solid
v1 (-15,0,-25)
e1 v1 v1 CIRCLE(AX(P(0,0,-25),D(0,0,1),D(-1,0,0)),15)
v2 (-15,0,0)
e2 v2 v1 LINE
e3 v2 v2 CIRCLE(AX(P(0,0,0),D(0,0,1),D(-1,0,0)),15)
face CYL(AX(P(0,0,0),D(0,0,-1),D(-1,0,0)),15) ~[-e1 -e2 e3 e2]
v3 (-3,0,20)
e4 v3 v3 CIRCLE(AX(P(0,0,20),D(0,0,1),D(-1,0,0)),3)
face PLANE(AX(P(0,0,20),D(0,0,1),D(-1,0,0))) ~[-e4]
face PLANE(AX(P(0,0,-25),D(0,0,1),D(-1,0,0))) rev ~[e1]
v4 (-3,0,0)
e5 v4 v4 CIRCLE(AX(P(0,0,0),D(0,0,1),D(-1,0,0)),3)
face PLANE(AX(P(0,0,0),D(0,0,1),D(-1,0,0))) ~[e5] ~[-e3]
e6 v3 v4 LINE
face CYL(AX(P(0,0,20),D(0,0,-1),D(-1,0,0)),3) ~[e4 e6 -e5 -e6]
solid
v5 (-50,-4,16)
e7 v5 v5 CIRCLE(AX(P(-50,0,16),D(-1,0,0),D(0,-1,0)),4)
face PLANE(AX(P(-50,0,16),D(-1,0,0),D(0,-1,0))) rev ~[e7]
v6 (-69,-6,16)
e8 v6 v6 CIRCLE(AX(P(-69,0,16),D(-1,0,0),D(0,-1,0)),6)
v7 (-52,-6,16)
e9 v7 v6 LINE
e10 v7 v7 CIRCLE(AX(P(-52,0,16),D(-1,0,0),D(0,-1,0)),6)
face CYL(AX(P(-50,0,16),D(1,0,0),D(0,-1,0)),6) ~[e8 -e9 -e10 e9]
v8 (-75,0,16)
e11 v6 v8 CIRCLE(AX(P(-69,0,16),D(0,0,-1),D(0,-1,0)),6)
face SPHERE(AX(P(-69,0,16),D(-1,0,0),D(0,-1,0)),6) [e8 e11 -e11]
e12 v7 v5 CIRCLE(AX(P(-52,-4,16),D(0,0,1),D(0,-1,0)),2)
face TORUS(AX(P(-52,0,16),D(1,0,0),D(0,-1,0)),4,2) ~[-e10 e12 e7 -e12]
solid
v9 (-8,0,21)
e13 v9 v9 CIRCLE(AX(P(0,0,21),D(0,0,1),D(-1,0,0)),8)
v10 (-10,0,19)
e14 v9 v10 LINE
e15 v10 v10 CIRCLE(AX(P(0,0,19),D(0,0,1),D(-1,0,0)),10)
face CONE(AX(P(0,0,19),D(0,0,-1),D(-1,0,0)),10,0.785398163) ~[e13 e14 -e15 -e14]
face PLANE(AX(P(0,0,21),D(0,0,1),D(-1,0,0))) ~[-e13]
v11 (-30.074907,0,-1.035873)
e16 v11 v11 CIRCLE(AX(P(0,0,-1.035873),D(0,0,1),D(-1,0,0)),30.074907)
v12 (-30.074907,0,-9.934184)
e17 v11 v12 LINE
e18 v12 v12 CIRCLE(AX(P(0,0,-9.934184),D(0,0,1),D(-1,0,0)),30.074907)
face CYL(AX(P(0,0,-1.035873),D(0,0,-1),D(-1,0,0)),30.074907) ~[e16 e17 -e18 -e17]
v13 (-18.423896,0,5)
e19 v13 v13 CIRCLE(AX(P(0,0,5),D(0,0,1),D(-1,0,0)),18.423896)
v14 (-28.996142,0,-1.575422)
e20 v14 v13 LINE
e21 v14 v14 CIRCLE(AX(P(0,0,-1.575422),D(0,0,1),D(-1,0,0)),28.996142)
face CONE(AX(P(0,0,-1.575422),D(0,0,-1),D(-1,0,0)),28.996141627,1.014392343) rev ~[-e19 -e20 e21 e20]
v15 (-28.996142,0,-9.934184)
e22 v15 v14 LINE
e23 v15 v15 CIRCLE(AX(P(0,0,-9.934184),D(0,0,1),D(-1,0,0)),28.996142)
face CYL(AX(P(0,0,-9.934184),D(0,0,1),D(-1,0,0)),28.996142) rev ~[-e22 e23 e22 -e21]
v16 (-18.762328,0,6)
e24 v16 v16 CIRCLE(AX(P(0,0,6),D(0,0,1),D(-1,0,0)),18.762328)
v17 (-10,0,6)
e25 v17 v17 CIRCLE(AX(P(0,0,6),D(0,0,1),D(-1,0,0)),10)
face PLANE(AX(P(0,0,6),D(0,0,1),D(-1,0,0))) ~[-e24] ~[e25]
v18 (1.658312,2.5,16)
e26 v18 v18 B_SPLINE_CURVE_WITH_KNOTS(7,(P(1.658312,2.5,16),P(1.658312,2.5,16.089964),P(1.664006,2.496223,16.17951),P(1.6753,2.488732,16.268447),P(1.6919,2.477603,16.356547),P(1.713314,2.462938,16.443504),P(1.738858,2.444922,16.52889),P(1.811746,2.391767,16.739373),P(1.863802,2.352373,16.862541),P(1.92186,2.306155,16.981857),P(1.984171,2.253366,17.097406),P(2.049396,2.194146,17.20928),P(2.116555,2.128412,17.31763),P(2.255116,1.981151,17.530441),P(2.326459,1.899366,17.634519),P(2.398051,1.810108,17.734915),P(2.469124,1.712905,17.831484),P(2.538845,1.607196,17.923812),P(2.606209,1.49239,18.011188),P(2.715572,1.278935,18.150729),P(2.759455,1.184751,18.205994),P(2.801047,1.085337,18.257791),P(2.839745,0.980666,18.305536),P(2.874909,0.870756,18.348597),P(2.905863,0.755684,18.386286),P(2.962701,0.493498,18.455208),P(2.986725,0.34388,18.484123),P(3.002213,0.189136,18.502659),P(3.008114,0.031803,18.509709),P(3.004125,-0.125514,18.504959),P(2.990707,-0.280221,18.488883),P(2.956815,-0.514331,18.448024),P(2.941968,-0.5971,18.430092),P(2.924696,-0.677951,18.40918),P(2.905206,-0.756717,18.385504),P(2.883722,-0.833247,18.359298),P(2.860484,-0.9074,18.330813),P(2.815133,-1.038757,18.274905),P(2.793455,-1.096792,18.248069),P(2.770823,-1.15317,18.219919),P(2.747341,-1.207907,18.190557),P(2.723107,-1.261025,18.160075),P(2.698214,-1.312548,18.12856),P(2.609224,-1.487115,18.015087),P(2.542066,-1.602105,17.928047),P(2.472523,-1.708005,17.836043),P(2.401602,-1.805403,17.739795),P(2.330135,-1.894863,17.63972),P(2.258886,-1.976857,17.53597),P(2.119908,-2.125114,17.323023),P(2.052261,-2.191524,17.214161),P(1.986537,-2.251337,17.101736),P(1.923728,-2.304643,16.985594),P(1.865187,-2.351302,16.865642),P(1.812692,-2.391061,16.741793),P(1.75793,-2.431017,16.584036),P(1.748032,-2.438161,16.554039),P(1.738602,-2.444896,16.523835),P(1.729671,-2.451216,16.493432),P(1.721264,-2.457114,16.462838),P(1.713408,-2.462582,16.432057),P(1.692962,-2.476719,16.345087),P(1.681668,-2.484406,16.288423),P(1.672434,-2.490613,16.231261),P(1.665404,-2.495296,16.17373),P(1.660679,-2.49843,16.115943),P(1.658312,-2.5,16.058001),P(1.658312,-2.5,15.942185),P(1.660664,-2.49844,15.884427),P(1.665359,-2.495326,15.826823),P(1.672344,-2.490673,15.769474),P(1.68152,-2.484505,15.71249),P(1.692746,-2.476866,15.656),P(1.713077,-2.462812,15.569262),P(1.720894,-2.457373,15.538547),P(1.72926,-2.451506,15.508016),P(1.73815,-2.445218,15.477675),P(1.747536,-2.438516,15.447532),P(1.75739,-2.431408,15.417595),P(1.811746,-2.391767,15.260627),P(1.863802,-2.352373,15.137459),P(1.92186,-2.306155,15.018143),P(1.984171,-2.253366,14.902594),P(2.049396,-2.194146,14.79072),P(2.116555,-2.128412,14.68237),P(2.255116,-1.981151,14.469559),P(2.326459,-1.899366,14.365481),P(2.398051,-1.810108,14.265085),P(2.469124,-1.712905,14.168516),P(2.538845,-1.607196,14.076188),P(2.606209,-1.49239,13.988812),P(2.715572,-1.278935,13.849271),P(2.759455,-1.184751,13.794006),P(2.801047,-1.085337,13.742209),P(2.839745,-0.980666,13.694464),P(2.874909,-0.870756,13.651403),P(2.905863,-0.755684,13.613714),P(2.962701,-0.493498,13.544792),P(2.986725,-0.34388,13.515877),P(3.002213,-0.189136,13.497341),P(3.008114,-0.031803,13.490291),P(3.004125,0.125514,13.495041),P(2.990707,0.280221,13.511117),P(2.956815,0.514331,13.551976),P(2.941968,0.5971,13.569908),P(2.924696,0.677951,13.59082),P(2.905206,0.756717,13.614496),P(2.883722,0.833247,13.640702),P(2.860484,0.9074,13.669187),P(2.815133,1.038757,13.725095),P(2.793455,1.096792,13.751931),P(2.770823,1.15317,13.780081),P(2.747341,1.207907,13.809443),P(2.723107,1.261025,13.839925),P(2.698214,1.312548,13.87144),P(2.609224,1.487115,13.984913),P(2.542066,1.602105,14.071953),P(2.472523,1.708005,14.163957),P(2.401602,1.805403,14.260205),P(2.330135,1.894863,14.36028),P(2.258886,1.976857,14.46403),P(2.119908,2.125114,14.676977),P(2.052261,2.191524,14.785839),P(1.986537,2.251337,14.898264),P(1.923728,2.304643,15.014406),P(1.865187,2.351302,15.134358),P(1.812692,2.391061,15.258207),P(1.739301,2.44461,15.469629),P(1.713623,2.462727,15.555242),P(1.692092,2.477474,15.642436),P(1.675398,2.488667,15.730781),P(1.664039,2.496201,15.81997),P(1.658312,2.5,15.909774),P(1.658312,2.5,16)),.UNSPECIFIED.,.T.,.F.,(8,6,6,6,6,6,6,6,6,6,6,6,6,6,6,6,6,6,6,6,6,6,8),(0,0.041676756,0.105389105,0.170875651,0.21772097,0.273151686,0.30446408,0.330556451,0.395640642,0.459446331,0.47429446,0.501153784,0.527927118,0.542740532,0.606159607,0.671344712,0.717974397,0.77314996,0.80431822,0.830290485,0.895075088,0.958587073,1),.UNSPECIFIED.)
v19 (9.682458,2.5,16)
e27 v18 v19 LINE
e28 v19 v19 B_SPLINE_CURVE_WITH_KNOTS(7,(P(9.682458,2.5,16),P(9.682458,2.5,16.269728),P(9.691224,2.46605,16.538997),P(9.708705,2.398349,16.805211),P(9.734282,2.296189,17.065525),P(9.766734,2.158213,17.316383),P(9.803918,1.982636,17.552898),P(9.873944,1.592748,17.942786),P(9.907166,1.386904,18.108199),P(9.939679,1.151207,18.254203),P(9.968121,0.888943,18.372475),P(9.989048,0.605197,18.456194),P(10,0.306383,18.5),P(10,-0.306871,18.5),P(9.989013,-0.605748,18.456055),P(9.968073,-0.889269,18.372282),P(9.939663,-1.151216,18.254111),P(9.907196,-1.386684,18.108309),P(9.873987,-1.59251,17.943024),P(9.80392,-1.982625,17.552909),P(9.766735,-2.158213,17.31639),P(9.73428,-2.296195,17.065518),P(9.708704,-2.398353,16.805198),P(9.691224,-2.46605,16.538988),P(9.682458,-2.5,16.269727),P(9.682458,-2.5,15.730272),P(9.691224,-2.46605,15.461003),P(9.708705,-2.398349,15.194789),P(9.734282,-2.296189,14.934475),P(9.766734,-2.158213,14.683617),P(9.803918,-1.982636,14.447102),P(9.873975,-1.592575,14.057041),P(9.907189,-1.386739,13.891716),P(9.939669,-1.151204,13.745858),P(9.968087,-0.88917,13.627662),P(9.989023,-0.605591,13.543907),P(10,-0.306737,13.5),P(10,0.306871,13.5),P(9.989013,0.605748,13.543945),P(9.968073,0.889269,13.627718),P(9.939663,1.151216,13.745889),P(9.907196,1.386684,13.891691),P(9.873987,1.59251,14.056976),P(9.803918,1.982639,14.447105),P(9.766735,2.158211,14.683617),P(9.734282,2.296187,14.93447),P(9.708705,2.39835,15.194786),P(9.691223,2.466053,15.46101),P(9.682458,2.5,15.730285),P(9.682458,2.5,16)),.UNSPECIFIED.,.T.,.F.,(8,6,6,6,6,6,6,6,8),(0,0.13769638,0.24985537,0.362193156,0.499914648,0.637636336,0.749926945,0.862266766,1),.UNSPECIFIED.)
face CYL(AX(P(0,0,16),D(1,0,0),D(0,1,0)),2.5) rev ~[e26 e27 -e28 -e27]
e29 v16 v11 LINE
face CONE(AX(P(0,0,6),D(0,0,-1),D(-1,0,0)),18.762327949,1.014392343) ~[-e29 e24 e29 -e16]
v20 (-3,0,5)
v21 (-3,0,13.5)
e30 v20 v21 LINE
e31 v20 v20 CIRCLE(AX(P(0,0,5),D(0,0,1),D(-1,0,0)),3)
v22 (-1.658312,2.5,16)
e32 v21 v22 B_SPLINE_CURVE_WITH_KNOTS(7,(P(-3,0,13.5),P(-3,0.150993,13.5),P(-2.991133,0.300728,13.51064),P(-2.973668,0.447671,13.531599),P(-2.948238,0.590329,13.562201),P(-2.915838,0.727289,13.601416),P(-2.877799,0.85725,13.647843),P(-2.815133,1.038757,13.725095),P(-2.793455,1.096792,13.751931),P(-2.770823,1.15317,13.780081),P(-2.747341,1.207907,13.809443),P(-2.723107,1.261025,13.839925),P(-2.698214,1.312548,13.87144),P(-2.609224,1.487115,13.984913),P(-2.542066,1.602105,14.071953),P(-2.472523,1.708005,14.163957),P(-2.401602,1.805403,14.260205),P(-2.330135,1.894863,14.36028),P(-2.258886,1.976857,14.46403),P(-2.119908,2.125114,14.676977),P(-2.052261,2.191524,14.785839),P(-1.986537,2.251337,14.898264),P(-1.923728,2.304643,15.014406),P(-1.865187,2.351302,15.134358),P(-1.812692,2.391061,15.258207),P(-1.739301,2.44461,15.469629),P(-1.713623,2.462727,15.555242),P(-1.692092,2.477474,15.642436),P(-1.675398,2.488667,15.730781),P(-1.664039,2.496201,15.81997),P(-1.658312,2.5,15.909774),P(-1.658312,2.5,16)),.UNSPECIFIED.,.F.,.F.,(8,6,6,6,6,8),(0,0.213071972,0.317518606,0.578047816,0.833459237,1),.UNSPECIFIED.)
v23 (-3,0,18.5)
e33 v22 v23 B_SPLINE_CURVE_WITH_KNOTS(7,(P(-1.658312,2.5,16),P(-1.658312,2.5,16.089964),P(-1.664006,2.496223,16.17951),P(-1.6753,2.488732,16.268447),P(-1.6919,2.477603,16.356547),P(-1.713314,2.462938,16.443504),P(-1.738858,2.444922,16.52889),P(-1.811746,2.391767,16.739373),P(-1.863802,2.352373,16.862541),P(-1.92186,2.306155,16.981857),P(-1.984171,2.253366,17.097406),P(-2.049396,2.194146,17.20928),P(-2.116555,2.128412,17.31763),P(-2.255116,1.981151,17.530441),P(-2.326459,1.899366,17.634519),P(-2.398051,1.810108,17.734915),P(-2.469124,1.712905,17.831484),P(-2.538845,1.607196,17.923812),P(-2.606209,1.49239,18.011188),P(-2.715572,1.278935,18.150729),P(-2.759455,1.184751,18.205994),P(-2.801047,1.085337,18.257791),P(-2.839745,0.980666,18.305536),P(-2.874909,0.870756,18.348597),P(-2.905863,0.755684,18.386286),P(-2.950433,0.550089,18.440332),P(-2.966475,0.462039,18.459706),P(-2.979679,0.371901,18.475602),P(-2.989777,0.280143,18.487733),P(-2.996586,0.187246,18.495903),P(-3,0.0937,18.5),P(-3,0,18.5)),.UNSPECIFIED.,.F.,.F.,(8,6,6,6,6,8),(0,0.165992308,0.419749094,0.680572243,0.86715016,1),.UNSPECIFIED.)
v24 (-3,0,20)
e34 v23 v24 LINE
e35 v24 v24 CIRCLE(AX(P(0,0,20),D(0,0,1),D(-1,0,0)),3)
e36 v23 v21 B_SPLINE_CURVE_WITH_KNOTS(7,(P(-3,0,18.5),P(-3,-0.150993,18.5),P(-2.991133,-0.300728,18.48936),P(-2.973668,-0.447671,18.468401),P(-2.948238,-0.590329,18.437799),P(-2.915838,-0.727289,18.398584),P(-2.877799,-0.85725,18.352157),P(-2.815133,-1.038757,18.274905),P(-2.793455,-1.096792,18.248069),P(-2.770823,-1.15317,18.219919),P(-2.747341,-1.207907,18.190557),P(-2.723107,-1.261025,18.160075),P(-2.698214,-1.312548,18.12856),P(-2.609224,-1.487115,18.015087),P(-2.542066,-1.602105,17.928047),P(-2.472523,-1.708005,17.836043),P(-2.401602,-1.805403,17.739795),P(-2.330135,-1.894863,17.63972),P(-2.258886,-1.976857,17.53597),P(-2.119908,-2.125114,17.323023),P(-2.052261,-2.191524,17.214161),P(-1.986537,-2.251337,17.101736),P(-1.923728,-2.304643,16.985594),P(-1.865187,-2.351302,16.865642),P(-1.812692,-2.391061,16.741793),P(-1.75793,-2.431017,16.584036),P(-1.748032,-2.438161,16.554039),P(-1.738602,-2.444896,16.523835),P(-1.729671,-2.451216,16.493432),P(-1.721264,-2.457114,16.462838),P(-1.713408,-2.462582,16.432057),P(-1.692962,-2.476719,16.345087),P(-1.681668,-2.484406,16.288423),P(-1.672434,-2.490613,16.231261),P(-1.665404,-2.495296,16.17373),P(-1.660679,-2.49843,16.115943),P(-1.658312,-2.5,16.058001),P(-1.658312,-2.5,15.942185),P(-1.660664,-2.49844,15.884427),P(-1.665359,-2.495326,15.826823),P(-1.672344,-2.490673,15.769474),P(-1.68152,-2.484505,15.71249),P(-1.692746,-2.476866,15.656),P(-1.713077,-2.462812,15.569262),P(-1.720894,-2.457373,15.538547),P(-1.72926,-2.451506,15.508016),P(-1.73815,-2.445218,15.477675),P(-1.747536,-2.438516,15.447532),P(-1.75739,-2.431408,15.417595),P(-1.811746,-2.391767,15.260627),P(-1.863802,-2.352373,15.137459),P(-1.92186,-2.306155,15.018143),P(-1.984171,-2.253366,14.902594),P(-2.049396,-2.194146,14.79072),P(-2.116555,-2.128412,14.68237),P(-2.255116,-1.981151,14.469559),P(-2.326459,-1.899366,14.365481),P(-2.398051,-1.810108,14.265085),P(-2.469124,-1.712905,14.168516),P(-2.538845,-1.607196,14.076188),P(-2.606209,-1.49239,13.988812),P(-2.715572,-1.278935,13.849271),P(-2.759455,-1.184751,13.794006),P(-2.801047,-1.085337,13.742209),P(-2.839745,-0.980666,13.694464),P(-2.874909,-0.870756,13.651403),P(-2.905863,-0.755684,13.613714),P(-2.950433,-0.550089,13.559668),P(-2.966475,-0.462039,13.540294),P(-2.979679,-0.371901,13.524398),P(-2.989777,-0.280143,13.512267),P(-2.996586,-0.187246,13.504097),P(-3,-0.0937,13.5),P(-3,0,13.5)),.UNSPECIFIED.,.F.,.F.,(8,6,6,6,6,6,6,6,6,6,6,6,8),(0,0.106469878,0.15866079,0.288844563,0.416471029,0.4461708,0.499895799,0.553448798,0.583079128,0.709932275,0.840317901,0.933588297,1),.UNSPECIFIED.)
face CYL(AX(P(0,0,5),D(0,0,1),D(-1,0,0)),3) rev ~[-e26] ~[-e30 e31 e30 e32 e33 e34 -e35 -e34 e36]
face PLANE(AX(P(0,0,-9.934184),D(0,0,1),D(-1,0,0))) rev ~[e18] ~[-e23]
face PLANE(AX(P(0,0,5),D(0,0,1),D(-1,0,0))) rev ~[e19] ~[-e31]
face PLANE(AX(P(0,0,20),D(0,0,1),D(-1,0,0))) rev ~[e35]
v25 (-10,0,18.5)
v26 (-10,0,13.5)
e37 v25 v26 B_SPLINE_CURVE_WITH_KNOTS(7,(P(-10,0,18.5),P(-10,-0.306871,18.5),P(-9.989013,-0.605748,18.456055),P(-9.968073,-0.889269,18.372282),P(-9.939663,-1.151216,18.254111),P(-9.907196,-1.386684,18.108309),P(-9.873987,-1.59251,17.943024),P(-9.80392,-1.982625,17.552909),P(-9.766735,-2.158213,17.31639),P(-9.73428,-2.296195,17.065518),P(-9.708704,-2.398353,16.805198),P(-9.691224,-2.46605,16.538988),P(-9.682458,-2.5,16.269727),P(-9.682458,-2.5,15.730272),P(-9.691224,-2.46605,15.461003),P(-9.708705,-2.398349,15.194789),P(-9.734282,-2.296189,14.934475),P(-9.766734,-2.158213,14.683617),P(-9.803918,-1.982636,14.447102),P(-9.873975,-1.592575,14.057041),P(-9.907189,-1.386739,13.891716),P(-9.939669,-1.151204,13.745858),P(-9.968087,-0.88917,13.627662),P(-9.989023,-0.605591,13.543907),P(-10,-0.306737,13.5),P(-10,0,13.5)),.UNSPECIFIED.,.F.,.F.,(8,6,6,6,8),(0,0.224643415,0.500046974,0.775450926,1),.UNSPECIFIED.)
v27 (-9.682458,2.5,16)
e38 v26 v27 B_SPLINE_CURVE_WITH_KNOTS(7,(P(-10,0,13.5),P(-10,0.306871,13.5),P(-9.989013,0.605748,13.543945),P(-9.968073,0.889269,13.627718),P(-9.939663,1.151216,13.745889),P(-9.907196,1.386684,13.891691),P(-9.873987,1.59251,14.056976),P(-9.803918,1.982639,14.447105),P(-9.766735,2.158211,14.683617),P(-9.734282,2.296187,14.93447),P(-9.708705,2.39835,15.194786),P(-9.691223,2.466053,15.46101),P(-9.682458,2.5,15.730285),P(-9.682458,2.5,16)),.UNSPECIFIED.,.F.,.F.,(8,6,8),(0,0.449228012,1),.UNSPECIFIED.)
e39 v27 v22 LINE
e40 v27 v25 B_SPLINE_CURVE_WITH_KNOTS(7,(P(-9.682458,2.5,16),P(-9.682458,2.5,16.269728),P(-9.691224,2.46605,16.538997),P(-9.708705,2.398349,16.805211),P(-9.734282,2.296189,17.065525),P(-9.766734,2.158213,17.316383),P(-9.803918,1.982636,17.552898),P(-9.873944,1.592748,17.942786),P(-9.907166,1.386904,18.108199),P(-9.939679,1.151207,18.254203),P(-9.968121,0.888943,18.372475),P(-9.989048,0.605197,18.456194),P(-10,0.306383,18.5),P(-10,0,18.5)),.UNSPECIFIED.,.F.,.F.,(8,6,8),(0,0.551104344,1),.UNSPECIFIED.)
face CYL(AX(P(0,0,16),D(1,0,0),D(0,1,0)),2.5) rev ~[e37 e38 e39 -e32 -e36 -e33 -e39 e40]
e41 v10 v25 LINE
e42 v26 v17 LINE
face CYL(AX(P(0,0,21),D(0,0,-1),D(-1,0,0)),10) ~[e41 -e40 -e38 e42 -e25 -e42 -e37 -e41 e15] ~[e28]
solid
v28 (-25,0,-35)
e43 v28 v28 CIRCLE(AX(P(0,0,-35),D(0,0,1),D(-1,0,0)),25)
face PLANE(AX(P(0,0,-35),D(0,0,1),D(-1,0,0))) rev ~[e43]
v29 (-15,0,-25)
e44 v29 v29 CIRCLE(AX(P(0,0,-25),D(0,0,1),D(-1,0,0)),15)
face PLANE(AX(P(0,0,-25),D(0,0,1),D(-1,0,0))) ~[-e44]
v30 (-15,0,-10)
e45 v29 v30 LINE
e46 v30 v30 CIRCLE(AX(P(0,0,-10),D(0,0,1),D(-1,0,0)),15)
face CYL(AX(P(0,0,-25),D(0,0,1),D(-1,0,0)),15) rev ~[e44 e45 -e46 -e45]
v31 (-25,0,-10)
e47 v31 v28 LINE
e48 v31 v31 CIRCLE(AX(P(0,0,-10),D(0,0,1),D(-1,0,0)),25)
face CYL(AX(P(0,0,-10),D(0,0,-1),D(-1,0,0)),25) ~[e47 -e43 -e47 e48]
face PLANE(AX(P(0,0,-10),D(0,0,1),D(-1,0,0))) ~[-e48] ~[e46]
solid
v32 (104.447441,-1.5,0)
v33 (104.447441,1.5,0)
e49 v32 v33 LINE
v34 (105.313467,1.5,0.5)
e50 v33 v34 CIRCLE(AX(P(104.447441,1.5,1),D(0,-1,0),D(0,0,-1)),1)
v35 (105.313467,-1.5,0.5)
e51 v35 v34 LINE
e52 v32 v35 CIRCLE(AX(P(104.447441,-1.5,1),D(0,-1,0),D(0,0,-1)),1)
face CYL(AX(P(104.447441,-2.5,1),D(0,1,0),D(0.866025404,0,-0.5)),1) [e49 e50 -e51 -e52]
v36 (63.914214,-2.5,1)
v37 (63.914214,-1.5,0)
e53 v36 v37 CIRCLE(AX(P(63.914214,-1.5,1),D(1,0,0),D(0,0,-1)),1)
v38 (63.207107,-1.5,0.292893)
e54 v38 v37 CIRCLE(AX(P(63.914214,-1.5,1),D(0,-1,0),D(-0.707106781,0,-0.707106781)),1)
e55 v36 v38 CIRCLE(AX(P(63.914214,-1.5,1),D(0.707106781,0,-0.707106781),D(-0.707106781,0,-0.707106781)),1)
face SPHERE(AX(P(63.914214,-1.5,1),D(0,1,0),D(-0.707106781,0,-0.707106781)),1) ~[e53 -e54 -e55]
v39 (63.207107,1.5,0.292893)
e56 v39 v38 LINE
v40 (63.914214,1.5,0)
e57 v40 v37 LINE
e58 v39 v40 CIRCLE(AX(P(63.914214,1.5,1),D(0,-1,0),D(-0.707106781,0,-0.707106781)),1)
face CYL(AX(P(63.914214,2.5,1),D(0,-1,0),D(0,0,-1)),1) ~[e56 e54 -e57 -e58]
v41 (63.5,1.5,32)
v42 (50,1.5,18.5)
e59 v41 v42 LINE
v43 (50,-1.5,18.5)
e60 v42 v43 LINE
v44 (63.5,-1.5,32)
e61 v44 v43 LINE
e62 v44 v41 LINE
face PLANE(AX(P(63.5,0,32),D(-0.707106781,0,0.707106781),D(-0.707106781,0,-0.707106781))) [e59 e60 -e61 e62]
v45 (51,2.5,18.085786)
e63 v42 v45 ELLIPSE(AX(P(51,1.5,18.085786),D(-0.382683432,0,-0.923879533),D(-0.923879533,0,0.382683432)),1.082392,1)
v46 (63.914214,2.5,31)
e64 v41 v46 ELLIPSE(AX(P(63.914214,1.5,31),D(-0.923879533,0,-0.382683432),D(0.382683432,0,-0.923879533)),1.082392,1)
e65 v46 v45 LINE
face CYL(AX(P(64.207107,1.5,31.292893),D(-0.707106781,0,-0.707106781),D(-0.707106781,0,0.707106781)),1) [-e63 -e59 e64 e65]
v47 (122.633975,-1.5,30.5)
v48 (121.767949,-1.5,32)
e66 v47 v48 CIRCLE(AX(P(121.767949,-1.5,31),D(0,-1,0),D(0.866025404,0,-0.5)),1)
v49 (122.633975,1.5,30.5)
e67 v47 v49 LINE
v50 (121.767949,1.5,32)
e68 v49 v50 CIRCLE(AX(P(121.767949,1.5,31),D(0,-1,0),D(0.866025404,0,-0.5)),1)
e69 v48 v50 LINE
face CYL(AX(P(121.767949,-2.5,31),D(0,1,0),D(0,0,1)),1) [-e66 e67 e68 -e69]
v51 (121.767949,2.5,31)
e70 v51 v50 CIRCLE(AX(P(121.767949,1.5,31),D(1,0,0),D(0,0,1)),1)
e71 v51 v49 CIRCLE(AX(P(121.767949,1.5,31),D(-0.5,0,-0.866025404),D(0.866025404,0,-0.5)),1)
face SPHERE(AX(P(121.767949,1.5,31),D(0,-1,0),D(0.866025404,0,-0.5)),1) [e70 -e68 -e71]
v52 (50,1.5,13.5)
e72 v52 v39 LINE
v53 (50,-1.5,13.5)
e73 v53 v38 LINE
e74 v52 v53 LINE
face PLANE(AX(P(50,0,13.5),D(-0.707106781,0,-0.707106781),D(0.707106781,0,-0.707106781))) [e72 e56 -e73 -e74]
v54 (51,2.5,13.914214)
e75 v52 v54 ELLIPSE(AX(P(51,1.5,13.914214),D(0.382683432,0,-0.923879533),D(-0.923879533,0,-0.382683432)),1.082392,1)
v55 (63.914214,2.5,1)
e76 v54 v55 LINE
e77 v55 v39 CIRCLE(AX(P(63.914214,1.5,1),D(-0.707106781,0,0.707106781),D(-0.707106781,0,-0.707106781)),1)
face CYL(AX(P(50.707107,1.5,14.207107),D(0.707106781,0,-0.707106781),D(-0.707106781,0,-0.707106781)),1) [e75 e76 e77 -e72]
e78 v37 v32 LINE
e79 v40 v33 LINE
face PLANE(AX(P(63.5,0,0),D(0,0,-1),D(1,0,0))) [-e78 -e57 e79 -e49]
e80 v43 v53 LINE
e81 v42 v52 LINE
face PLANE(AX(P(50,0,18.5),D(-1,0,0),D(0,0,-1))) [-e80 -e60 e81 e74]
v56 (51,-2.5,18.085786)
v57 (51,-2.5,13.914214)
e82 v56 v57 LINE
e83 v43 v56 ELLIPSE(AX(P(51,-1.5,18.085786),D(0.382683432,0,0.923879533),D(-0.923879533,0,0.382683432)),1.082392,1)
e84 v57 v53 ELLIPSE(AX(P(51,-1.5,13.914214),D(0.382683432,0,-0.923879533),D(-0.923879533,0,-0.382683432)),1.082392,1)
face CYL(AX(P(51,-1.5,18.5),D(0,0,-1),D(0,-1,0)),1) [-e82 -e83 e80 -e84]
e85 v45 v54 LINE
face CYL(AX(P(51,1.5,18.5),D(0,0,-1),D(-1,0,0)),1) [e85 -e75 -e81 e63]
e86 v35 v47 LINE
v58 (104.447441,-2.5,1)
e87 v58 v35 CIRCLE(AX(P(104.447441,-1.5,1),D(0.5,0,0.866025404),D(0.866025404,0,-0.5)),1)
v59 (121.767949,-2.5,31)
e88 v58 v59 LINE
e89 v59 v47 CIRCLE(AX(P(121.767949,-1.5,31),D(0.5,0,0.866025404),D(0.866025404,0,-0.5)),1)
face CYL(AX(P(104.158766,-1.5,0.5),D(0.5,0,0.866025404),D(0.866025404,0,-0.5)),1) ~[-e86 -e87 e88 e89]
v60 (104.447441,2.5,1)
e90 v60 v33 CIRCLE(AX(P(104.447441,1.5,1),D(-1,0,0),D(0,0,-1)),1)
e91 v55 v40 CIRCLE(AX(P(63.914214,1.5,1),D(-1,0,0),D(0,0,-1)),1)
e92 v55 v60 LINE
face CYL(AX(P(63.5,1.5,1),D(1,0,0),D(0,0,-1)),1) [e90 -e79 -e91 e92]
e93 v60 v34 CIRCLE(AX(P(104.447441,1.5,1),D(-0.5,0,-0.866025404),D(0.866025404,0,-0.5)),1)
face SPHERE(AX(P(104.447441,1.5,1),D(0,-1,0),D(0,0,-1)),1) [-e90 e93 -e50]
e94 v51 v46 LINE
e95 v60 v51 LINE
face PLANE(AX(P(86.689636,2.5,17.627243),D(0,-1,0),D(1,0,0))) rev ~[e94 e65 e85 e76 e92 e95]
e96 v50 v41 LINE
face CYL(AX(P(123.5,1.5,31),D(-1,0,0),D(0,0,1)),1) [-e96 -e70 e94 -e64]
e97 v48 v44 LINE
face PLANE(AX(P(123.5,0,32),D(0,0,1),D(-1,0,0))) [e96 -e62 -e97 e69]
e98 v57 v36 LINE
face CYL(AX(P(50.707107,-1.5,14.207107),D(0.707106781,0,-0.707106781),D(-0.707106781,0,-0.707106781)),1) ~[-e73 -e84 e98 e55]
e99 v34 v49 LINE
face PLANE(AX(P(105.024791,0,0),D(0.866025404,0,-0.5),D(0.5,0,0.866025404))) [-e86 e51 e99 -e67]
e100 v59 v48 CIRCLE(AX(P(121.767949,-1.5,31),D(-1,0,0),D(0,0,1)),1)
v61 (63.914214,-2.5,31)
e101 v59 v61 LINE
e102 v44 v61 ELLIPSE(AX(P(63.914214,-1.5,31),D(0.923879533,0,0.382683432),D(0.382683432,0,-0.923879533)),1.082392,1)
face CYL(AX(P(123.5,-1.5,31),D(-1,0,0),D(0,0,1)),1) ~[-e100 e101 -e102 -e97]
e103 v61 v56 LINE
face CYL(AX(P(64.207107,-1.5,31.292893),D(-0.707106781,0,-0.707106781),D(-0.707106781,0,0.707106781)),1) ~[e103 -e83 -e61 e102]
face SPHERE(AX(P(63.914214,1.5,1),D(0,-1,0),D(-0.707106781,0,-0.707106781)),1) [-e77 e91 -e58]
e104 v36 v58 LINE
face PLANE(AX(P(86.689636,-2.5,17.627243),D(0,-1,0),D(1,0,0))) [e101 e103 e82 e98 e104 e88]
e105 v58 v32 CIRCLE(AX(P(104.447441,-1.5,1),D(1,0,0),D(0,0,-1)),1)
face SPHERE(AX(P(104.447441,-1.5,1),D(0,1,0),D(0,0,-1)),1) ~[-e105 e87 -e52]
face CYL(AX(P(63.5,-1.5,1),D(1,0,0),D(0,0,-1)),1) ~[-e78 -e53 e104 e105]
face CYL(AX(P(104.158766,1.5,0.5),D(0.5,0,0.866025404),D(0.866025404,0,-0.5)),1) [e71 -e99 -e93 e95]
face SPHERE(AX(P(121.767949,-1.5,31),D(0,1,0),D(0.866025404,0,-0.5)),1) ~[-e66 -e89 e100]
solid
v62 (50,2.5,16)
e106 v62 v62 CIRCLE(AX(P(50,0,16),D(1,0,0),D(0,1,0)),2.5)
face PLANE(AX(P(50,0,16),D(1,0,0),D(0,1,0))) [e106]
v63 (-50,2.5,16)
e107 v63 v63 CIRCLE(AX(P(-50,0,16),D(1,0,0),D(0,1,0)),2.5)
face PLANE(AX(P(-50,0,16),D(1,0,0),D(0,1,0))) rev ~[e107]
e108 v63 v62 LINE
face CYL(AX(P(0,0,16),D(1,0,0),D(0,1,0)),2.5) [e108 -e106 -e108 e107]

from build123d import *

# Parameters (mm, degrees)
F5_R      = 2.5
F6_DEPTH  = 50
F8_R      = 6
F9_DEPTH  = 25
F10_R     = 6
F11_R     = 2
F13_DEPTH = 2.5
F14_R     = 1
F15_SIZE  = 2
F16_DEPTH = 12.5


with BuildPart() as f1:
    # F0 (on Front) → F1 (revolve)
    with BuildSketch(Plane.XZ):
        Polygon((-3, 0), (0, 0), (0, 20), (-3, 20), (-3, 6), (-3, 5), align=None)
    revolve(axis=Axis((0, 0, 10), (0, 0, 1)))

    # F0 (on Front) → F2 (revolve)
    with BuildSketch(Plane.XZ):
        Polygon((0, -25), (0, 0), (-3, 0), (-15, 0), (-15, -10), (-15, -25), align=None)
    revolve(axis=Axis((0, 0, 10), (0, 0, 1)))


with BuildPart() as f3:
    # F0 (on Front) → F3 (revolve)
    with BuildSketch(Plane.XZ):
        Polygon((0, -35), (0, -25), (-15, -25), (-15, -10), (-25, -10), (-25, -35), align=None)
    revolve(axis=Axis((0, 0, 10), (0, 0, 1)))


with BuildPart() as f4:
    # F0 (on Front) → F4 (revolve)
    with BuildSketch(Plane.XZ):
        Polygon((-3, 20), (0, 20), (0, 21), (-10, 21), (-10, 6), (-3, 6), align=None)
        Polygon((-18.4238955249, 5), (-3, 5), (-3, 6), (-10, 6), (-18.7623279487, 6), (-30.0749070195, -1.0358732022), (-30.0749070195, -9.9341836239), (-28.9961416274, -9.9341836239), (-28.9961416274, -1.575422154), align=None)
    revolve(axis=Axis((0, 0, 10), (0, 0, 1)))

    # F15
    f15_edges = [f4.edges().sort_by_distance(p)[0] for p in [
        (10, 0, 21),
    ]]
    chamfer(f15_edges, length=F15_SIZE)

    # F5 (on Right) → F16 (cut, symmetric)
    with BuildSketch(Plane.YZ):
        with Locations((0, 16)):
            Circle(F5_R)
    extrude(amount=F16_DEPTH, both=True, mode=Mode.SUBTRACT)


with BuildPart() as f6:
    # F5 (on Right) → F6 (new body, symmetric)
    with BuildSketch(Plane.YZ):
        with Locations((0, 16)):
            Circle(F5_R)
    extrude(amount=F6_DEPTH, both=True)


with BuildPart() as f9:
    # F8 (on offset) → F9 (new body)
    with BuildSketch(Plane(origin=(-50, 0, 0), x_dir=(0, -1, 0), z_dir=(-1, 0, 0))):
        with Locations((0, 16)):
            Circle(F8_R)
    extrude(amount=F9_DEPTH)

    # F10
    f10_edges = [f9.edges().sort_by_distance(p)[0] for p in [
        (-75, 6, 16),
    ]]
    fillet(f10_edges, radius=F10_R)

    # F11
    f11_edges = [f9.edges().sort_by_distance(p)[0] for p in [
        (-50, 6, 16),
    ]]
    fillet(f11_edges, radius=F11_R)


with BuildPart() as f13:
    # F12 (on Front) → F13 (new body, symmetric)
    with BuildSketch(Plane.XZ):
        Polygon((63.5, 32), (50, 18.5), (50, 13.5), (63.5, 0), (105.0247913859, 0), (123.5, 32), align=None)
    extrude(amount=F13_DEPTH, both=True)

    # F14
    f14_edges = [f13.edges().sort_by_distance(p)[0] for p in [
        (56.75, -2.5, 25.25),
        (50, -2.5, 16),
        (56.75, -2.5, 6.75),
        (84.262396, -2.5, 0),
        (114.262396, -2.5, 16),
        (93.5, -2.5, 32),
        (56.75, 2.5, 25.25),
        (50, 2.5, 16),
        (56.75, 2.5, 6.75),
        (84.262396, 2.5, 0),
        (114.262396, 2.5, 16),
        (93.5, 2.5, 32),
        (63.5, 0, 0),
        (123.5, 0, 32),
        (105.024791, 0, 0),
    ]]
    fillet(f14_edges, radius=F14_R)


solid = Compound([f1.part, f3.part, f4.part, f6.part, f9.part, f13.part])
